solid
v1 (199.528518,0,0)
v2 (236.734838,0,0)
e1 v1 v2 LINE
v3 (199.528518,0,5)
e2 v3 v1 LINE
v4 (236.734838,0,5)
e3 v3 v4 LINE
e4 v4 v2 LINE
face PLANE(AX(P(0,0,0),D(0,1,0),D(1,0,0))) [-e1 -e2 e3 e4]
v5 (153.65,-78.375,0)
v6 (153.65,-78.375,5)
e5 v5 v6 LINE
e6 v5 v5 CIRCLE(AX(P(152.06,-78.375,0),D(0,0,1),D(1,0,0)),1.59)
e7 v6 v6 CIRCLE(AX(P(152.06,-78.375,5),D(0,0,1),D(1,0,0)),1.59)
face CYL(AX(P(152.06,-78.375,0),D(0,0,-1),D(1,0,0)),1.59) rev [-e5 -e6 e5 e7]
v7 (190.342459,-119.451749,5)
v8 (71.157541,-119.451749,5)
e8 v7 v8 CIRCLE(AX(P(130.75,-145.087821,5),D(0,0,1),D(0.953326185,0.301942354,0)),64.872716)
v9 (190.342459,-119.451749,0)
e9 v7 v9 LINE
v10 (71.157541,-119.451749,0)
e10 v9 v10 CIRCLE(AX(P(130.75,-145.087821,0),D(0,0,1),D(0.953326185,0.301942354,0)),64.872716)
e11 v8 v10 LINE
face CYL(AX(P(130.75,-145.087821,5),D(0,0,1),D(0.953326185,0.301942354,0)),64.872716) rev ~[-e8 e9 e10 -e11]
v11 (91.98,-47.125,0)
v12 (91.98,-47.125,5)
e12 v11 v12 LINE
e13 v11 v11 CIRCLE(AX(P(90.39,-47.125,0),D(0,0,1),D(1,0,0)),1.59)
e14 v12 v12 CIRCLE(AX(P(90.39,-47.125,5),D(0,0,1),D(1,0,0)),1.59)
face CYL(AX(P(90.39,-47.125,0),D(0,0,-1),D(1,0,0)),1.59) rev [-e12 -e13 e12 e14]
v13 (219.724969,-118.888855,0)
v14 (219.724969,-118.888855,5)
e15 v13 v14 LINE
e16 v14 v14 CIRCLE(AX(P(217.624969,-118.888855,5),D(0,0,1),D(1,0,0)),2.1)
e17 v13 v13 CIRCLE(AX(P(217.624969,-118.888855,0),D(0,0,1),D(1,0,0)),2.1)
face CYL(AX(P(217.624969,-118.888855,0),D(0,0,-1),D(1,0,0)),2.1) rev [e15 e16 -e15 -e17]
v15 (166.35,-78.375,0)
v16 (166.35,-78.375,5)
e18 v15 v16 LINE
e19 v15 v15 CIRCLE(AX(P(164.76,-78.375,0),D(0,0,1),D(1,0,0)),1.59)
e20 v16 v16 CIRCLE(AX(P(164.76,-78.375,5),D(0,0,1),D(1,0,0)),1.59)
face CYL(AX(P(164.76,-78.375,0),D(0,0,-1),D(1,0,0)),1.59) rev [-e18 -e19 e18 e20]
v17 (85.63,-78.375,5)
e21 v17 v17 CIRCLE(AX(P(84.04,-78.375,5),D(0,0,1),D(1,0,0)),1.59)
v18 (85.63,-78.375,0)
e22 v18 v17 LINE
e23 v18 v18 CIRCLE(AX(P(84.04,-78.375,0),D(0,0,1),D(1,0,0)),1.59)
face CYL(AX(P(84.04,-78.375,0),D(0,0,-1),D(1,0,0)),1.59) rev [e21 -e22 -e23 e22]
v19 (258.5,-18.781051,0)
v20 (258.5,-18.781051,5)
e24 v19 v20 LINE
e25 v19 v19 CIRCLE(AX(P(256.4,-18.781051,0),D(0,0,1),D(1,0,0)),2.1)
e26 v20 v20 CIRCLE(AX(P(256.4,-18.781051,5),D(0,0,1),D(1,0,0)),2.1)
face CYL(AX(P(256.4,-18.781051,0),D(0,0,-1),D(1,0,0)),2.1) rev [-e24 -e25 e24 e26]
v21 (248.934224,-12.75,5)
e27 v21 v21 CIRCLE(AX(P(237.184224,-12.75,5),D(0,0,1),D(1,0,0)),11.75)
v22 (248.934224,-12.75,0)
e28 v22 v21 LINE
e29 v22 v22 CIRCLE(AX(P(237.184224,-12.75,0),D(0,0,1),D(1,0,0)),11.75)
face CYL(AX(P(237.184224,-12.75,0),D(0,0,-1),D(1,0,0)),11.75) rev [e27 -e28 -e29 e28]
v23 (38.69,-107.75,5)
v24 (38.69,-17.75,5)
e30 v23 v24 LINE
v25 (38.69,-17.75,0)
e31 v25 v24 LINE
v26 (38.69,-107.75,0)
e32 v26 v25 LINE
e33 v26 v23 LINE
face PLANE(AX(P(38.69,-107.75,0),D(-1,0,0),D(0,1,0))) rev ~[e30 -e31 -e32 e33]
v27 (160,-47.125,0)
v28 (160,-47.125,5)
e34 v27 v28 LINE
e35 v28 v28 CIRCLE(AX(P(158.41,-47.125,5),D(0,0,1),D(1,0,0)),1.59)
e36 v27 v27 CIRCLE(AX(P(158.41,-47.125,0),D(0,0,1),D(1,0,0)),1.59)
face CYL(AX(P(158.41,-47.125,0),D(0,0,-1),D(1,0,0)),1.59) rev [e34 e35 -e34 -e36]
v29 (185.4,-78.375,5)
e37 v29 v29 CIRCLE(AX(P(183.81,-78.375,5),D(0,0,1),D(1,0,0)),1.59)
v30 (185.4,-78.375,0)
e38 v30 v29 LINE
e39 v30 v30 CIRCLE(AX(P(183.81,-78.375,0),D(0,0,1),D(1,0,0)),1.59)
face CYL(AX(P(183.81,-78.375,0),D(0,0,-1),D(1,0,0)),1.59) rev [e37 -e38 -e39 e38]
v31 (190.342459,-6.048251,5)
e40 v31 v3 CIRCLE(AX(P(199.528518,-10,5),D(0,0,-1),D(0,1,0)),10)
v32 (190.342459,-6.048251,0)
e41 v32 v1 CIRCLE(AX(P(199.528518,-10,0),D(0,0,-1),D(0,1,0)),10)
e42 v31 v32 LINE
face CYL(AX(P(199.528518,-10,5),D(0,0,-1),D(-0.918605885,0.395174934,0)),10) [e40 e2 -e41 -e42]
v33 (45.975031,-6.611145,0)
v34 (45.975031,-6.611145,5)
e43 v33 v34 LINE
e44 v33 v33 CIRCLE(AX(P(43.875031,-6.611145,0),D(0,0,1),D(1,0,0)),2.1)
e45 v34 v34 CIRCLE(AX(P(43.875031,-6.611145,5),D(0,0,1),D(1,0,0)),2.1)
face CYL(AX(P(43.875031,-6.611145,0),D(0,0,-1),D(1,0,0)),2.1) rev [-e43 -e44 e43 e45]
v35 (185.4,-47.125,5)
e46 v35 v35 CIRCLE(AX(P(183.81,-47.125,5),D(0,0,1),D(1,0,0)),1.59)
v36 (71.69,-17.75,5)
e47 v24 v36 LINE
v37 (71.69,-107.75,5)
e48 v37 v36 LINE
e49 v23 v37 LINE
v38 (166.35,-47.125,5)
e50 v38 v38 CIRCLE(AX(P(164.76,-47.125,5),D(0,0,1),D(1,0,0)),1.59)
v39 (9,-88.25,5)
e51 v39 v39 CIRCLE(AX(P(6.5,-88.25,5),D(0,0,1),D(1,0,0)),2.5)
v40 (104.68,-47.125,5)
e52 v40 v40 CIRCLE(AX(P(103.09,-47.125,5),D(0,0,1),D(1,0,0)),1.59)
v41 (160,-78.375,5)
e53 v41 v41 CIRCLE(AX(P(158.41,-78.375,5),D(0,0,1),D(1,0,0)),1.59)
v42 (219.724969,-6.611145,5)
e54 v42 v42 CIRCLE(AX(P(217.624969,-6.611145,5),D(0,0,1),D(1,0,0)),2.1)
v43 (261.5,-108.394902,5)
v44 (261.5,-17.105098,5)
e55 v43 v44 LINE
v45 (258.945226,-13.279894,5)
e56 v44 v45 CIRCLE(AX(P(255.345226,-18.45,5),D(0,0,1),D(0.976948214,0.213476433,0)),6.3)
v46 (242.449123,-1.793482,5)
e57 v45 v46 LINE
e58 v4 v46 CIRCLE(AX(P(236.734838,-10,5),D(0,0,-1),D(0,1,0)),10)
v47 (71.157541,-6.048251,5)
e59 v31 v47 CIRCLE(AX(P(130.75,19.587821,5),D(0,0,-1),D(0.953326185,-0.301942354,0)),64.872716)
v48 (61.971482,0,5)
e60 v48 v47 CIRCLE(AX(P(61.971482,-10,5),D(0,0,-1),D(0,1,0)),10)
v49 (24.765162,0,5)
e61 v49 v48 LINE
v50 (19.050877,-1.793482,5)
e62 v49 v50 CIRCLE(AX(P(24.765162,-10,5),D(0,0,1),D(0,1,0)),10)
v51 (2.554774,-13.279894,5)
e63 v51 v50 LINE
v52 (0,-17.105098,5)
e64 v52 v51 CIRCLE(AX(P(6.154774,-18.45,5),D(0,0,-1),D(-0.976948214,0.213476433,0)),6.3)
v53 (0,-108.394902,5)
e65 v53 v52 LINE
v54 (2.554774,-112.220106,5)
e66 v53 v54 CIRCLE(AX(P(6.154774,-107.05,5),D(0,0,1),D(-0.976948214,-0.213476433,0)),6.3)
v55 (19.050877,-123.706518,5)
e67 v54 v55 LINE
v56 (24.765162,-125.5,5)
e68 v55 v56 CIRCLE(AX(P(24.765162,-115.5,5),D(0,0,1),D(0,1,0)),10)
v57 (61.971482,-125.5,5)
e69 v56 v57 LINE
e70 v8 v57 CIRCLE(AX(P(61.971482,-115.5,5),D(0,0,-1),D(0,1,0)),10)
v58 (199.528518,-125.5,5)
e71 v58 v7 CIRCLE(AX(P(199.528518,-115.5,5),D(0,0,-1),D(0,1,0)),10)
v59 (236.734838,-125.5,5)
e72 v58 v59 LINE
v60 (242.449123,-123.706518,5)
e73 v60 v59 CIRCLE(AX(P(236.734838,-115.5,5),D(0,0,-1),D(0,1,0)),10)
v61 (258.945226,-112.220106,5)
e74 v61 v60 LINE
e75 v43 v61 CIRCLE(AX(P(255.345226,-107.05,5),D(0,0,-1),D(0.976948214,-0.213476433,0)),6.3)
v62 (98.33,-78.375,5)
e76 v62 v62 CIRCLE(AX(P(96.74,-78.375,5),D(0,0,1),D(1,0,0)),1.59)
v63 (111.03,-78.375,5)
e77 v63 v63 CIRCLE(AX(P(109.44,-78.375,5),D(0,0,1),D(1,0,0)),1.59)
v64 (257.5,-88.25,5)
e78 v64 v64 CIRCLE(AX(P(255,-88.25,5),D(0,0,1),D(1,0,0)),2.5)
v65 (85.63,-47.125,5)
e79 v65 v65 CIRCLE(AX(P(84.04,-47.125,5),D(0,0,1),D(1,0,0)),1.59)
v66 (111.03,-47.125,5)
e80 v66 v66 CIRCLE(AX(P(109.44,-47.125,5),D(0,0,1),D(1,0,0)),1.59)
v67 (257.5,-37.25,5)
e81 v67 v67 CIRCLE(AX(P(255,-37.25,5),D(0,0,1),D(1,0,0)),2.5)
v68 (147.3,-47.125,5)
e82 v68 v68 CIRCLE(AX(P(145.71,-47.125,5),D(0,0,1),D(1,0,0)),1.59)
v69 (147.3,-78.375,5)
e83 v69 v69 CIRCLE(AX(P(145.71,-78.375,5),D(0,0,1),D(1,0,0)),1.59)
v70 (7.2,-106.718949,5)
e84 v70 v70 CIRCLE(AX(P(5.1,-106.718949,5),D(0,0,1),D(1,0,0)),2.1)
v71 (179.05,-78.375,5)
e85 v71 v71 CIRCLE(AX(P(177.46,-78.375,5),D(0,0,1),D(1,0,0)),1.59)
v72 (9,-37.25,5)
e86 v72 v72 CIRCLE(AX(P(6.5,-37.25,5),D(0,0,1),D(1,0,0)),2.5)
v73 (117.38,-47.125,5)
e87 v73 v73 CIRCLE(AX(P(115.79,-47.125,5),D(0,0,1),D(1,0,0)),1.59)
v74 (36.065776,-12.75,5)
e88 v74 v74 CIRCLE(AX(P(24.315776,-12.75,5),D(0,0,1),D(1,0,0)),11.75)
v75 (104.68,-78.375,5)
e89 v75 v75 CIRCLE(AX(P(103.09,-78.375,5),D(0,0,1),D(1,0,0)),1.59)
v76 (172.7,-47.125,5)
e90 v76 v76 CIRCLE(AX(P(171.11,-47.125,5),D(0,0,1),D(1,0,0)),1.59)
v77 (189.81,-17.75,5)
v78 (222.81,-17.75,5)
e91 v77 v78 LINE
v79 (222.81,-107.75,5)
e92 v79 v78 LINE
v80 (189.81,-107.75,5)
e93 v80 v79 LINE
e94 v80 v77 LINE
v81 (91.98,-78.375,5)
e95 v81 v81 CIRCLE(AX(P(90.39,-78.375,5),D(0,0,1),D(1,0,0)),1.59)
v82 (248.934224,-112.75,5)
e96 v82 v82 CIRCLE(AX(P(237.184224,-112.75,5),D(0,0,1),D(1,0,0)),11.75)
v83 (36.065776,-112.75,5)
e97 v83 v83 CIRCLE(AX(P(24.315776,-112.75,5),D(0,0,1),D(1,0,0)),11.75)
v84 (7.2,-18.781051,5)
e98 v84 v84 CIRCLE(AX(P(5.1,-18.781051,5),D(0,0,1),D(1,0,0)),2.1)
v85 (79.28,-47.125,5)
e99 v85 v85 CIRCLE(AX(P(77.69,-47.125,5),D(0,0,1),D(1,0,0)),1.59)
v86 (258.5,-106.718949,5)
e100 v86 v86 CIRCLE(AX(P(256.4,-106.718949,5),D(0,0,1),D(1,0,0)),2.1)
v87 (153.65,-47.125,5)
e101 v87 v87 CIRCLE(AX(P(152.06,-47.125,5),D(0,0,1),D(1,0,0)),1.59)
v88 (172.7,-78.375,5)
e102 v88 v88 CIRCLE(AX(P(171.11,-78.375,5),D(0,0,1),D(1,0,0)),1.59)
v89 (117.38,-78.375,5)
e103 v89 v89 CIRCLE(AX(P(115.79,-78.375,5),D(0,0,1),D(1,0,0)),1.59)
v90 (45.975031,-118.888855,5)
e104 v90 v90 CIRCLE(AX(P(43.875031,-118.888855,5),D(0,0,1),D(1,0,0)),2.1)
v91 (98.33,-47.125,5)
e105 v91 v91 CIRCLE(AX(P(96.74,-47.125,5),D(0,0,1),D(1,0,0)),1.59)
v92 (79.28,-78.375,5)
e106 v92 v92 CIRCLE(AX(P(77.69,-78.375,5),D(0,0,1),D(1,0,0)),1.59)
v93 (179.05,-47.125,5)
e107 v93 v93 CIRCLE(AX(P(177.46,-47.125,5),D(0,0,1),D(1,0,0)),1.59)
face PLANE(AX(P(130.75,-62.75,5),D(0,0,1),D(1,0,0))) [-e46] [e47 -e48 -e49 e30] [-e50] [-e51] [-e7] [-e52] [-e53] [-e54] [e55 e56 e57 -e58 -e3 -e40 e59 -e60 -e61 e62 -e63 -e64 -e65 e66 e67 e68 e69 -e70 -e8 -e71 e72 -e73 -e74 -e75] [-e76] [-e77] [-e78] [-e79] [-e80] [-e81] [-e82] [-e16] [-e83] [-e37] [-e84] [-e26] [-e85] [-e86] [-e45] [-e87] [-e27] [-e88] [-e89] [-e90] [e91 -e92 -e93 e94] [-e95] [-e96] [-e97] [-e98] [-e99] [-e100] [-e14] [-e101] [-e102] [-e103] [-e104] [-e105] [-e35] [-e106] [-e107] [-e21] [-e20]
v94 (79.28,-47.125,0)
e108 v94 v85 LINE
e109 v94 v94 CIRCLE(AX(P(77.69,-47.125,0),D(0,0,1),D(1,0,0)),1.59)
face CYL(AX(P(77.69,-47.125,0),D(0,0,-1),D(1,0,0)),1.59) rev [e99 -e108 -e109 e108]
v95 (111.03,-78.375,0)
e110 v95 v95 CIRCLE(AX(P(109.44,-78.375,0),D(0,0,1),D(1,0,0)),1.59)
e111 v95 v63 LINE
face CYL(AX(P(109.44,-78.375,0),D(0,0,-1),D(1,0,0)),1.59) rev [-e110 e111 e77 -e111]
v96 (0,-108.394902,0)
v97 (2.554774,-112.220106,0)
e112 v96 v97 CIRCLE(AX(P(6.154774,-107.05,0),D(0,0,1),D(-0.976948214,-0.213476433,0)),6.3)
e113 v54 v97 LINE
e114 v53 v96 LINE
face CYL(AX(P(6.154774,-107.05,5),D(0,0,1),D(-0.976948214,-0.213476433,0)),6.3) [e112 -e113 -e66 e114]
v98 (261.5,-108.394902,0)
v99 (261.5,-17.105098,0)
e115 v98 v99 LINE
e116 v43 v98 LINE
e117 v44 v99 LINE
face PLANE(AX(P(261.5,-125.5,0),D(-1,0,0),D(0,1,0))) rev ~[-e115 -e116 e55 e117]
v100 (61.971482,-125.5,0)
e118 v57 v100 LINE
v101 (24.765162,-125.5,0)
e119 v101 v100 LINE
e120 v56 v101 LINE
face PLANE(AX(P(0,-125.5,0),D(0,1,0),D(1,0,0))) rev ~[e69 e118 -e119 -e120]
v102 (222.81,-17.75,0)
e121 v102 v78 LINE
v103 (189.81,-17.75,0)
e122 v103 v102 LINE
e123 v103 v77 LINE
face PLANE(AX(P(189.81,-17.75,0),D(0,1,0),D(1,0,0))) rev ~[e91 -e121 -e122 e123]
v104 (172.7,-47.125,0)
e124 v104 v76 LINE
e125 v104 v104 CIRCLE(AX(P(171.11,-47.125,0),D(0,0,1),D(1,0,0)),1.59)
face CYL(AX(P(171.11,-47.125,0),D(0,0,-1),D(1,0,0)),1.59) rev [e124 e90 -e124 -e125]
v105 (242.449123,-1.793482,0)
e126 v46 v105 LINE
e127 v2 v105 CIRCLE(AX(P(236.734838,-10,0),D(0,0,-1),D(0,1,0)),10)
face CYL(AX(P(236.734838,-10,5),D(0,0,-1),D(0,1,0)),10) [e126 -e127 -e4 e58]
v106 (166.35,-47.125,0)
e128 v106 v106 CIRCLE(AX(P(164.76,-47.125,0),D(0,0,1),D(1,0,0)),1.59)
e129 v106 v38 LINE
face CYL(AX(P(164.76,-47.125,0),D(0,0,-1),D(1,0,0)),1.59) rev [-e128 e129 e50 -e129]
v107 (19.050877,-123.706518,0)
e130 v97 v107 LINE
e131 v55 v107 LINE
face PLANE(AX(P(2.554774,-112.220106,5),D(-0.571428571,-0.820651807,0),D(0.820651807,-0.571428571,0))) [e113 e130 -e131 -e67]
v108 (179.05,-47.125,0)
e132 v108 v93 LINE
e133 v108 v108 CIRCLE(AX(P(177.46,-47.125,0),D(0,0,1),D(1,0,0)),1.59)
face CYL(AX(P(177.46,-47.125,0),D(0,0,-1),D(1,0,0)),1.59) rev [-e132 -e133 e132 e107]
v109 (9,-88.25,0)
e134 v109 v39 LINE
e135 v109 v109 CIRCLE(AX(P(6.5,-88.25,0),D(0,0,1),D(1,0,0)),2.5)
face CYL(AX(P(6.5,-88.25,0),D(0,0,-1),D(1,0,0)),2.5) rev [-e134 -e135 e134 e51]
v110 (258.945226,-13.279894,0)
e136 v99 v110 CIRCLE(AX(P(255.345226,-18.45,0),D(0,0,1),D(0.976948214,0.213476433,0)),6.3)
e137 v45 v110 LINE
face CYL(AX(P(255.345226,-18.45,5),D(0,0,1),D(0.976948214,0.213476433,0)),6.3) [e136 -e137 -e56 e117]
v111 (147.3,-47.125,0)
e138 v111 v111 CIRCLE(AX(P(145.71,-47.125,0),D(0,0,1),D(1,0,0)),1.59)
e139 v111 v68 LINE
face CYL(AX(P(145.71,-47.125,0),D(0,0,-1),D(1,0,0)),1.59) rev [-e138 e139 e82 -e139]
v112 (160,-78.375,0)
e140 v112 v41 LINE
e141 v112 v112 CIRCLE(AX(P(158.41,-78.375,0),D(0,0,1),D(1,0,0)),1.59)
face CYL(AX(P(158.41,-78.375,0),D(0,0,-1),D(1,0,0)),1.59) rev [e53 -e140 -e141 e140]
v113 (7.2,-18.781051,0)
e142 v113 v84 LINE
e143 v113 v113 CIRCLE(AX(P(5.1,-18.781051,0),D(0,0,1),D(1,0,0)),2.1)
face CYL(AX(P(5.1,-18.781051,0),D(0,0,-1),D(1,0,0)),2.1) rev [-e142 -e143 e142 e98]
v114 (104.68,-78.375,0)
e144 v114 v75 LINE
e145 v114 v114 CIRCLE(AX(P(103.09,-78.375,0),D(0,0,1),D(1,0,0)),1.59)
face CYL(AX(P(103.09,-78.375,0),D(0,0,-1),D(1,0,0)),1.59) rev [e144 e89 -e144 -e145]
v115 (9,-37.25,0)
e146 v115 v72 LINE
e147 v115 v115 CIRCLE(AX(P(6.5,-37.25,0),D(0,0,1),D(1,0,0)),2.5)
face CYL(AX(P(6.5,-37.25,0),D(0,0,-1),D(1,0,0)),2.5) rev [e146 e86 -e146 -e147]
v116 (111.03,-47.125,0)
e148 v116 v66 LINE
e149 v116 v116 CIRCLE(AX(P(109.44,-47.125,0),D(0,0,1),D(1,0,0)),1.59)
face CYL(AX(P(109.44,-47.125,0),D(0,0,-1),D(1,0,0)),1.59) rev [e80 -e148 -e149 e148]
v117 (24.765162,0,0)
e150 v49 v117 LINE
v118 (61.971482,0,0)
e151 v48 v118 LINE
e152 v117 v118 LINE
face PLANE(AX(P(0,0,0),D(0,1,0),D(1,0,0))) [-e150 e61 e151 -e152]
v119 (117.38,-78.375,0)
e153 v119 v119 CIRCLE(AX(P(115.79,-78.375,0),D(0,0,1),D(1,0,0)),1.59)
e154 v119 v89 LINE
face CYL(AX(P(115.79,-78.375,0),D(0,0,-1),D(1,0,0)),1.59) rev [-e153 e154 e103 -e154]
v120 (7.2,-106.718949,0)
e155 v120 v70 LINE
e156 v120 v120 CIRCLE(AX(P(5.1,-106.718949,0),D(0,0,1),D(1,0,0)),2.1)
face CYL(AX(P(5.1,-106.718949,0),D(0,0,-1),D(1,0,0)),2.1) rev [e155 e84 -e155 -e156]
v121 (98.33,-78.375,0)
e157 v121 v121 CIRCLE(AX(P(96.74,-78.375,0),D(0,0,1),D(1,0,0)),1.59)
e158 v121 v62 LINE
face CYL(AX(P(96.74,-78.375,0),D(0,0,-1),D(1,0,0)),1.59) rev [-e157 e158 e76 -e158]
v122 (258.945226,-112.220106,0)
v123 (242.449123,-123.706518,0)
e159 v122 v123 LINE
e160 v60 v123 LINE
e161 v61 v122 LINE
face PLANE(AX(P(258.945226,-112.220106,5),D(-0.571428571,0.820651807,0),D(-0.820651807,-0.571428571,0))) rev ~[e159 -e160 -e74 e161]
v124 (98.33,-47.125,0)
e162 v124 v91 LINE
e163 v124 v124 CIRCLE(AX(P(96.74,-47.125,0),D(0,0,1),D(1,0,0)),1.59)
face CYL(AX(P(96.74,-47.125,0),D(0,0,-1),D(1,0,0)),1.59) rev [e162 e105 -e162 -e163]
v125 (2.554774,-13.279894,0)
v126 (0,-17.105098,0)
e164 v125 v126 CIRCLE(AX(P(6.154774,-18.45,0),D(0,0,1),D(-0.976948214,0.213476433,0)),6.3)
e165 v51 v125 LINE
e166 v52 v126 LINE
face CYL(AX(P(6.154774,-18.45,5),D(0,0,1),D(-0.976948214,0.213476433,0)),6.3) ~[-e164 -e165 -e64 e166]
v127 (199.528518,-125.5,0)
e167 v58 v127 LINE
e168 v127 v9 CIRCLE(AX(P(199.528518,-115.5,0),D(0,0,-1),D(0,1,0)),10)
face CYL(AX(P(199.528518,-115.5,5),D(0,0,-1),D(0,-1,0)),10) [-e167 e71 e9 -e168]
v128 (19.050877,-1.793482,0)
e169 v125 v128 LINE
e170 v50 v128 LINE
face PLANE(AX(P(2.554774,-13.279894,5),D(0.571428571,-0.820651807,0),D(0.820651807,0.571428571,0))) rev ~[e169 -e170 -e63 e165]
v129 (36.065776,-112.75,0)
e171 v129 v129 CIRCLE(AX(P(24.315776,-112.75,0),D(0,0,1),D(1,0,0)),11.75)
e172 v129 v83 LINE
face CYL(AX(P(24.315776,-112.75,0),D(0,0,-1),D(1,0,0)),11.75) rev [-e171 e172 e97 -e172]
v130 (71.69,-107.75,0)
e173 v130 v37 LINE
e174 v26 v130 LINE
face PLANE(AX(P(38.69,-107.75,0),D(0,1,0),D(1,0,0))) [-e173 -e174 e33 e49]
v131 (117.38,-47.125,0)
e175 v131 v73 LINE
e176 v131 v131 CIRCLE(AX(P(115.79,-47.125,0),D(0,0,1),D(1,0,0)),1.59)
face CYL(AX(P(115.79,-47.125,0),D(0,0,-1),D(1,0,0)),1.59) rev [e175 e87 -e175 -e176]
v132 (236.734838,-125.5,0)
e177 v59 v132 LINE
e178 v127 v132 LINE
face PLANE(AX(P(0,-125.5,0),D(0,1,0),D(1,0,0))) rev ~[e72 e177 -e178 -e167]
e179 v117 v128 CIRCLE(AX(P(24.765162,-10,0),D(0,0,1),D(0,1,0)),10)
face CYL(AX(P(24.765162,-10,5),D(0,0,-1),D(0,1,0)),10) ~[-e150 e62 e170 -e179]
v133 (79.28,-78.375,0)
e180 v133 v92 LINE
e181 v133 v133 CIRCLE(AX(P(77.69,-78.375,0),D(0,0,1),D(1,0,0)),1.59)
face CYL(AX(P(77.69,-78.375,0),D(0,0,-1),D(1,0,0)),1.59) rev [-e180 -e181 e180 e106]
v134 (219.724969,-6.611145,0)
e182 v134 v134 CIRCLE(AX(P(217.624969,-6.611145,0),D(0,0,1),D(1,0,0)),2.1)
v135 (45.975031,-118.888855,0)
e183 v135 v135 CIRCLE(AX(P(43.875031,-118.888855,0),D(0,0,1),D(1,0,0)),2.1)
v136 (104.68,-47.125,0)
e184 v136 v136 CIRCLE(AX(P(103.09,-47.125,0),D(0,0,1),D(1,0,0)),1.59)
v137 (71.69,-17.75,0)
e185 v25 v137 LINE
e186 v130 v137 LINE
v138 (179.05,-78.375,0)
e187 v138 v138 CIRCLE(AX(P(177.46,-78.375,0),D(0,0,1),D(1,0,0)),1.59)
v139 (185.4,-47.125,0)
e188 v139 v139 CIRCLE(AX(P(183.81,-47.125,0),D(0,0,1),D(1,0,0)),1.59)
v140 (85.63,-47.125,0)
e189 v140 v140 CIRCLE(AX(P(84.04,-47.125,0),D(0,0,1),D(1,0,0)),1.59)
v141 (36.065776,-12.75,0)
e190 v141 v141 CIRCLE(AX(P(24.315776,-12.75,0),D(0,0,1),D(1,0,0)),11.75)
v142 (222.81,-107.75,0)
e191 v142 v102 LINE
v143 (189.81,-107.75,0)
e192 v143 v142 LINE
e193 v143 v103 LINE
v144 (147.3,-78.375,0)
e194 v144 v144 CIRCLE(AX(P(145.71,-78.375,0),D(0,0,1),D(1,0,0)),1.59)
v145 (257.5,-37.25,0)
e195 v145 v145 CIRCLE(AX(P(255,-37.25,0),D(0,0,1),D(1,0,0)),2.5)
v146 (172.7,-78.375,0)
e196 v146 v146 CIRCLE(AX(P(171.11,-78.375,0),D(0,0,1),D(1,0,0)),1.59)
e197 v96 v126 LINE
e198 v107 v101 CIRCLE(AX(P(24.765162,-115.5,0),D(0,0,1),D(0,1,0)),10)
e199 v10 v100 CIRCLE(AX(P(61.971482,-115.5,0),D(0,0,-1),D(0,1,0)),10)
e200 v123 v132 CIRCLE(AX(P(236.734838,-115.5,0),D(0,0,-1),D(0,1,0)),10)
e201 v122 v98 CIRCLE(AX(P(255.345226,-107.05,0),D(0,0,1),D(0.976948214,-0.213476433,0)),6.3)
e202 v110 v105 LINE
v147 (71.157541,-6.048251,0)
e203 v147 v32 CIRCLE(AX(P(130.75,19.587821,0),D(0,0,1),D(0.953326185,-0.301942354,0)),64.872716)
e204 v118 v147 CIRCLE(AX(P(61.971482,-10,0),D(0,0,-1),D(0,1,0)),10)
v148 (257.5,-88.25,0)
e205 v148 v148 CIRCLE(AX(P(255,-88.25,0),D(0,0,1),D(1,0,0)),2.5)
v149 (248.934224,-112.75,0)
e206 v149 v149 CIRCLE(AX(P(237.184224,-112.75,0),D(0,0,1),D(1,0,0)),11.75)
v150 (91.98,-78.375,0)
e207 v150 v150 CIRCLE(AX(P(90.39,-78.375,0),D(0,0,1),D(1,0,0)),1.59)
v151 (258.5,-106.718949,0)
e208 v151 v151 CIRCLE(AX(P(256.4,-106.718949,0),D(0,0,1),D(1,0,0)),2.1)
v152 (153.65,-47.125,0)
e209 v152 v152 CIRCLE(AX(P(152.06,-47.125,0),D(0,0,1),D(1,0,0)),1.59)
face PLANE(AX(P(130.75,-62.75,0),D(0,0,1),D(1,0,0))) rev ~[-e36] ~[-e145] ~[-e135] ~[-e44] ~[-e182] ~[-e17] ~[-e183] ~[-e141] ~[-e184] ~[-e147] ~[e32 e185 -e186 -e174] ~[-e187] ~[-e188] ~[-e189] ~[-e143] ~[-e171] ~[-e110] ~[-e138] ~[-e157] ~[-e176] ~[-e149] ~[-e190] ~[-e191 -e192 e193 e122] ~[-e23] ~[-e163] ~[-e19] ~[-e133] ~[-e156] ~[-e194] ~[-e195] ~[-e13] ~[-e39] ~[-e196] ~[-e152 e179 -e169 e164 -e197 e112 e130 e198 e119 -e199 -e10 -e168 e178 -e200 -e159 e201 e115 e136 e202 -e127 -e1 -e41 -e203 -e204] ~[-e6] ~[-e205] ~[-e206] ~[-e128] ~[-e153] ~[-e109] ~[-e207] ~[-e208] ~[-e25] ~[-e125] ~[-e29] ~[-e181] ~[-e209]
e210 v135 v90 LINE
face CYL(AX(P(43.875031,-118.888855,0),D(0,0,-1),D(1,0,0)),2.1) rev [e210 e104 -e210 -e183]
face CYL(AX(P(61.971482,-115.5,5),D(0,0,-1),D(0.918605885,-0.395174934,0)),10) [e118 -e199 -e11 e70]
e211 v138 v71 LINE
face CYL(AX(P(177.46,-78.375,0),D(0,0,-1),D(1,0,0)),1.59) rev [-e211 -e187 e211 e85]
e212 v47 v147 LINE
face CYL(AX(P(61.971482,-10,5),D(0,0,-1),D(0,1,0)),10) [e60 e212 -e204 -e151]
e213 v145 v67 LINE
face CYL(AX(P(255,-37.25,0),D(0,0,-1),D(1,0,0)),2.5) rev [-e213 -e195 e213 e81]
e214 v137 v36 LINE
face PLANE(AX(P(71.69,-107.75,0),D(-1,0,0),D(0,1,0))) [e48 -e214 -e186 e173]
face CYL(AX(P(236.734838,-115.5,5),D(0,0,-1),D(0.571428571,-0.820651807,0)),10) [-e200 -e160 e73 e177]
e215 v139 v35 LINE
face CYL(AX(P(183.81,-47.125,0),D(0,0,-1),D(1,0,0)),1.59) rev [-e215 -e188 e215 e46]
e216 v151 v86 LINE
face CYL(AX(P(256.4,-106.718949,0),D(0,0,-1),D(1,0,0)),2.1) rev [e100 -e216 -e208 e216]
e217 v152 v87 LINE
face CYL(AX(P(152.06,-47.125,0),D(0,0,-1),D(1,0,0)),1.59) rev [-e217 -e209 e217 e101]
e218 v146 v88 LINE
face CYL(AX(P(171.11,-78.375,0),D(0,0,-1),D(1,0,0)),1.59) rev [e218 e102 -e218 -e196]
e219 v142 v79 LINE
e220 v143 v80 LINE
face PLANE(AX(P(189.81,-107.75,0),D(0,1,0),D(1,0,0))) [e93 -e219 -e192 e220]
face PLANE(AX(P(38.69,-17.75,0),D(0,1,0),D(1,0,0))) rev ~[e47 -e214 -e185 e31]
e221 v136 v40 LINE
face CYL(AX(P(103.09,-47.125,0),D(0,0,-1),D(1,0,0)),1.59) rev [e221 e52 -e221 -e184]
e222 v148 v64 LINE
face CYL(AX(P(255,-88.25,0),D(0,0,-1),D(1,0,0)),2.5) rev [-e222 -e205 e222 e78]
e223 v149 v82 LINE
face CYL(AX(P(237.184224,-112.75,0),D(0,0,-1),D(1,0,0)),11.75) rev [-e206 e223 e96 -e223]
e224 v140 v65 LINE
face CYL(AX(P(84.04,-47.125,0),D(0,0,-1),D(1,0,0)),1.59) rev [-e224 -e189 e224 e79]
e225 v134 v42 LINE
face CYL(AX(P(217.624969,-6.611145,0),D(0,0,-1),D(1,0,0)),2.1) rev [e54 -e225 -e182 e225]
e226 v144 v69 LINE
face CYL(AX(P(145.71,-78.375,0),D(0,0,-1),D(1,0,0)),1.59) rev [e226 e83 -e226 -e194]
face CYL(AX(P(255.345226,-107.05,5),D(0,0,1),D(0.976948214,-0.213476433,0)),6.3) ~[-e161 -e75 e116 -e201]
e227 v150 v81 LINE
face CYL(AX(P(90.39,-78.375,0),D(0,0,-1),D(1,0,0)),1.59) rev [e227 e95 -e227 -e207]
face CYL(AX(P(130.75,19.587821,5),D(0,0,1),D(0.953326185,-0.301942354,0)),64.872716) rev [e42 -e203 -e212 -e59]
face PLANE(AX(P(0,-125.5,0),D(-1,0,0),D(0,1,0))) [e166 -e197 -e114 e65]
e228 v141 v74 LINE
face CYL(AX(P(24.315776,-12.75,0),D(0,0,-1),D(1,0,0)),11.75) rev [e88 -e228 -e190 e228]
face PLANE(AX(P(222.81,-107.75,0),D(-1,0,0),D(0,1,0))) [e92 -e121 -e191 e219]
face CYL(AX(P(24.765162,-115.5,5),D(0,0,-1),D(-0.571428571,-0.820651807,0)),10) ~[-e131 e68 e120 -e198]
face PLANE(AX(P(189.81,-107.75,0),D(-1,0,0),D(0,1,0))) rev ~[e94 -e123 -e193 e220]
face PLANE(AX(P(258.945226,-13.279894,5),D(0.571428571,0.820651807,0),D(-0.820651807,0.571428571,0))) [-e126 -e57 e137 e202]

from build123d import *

# Parameters (mm, degrees)
SKETCH1_W           = 261.5
SKETCH1_H           = 125.5
SKETCH1_R           = 2.5
SKETCH1_R_2         = 1.59
SKETCH1_R_3         = 2.1
SKETCH1_R_4         = 11.75
SKETCH1_W_2         = 33
SKETCH1_H_2         = 90
BOSS_EXTRUDE1_DEPTH = 5
CUT_EXTRUDE1_DEPTH  = 10
FILLET1_R           = 10
FILLET2_R           = 10


with BuildPart() as part:
    # Sketch1 → Boss-Extrude1 (new body)
    with BuildSketch(Plane.XY):
        with Locations((130.75, -62.75)):
            Rectangle(SKETCH1_W, SKETCH1_H)
        with Locations((255, -37.25)):
            Circle(SKETCH1_R, mode=Mode.SUBTRACT)
        with Locations((255, -88.25)):
            Circle(SKETCH1_R, mode=Mode.SUBTRACT)
        with Locations((183.81, -47.125)):
            Circle(SKETCH1_R_2, mode=Mode.SUBTRACT)
        with Locations((164.76, -78.375)):
            Circle(SKETCH1_R_2, mode=Mode.SUBTRACT)
        with Locations((152.06, -78.375)):
            Circle(SKETCH1_R_2, mode=Mode.SUBTRACT)
        with Locations((43.875030639, -118.888854871)):
            Circle(SKETCH1_R_3, mode=Mode.SUBTRACT)
        with Locations((183.81, -78.375)):
            Circle(SKETCH1_R_2, mode=Mode.SUBTRACT)
        with Locations((145.71, -47.125)):
            Circle(SKETCH1_R_2, mode=Mode.SUBTRACT)
        with Locations((158.41, -47.125)):
            Circle(SKETCH1_R_2, mode=Mode.SUBTRACT)
        with Locations((171.11, -47.125)):
            Circle(SKETCH1_R_2, mode=Mode.SUBTRACT)
        with Locations((145.71, -78.375)):
            Circle(SKETCH1_R_2, mode=Mode.SUBTRACT)
        with Locations((158.41, -78.375)):
            Circle(SKETCH1_R_2, mode=Mode.SUBTRACT)
        with Locations((171.11, -78.375)):
            Circle(SKETCH1_R_2, mode=Mode.SUBTRACT)
        with Locations((84.04, -78.375)):
            Circle(SKETCH1_R_2, mode=Mode.SUBTRACT)
        with Locations((96.74, -78.375)):
            Circle(SKETCH1_R_2, mode=Mode.SUBTRACT)
        with Locations((109.44, -78.375)):
            Circle(SKETCH1_R_2, mode=Mode.SUBTRACT)
        with Locations((84.04, -47.125)):
            Circle(SKETCH1_R_2, mode=Mode.SUBTRACT)
        with Locations((96.74, -47.125)):
            Circle(SKETCH1_R_2, mode=Mode.SUBTRACT)
        with Locations((109.44, -47.125)):
            Circle(SKETCH1_R_2, mode=Mode.SUBTRACT)
        with Locations((90.39, -78.375)):
            Circle(SKETCH1_R_2, mode=Mode.SUBTRACT)
        with Locations((103.09, -78.375)):
            Circle(SKETCH1_R_2, mode=Mode.SUBTRACT)
        with Locations((115.79, -78.375)):
            Circle(SKETCH1_R_2, mode=Mode.SUBTRACT)
        with Locations((90.39, -47.125)):
            Circle(SKETCH1_R_2, mode=Mode.SUBTRACT)
        with Locations((103.09, -47.125)):
            Circle(SKETCH1_R_2, mode=Mode.SUBTRACT)
        with Locations((115.79, -47.125)):
            Circle(SKETCH1_R_2, mode=Mode.SUBTRACT)
        with Locations((77.69, -78.375)):
            Circle(SKETCH1_R_2, mode=Mode.SUBTRACT)
        with Locations((5.1, -106.71894941)):
            Circle(SKETCH1_R_3, mode=Mode.SUBTRACT)
        with Locations((24.315775518, -112.75)):
            Circle(SKETCH1_R_4, mode=Mode.SUBTRACT)
        with Locations((256.4, -106.71894941)):
            Circle(SKETCH1_R_3, mode=Mode.SUBTRACT)
        with Locations((77.69, -47.125)):
            Circle(SKETCH1_R_2, mode=Mode.SUBTRACT)
        with Locations((6.5, -88.25)):
            Circle(SKETCH1_R, mode=Mode.SUBTRACT)
        with Locations((6.5, -37.25)):
            Circle(SKETCH1_R, mode=Mode.SUBTRACT)
        with Locations((237.184224482, -112.75)):
            Circle(SKETCH1_R_4, mode=Mode.SUBTRACT)
        with Locations((217.624969361, -118.888854871)):
            Circle(SKETCH1_R_3, mode=Mode.SUBTRACT)
        with Locations((152.06, -47.125)):
            Circle(SKETCH1_R_2, mode=Mode.SUBTRACT)
        with Locations((164.76, -47.125)):
            Circle(SKETCH1_R_2, mode=Mode.SUBTRACT)
        with Locations((177.46, -47.125)):
            Circle(SKETCH1_R_2, mode=Mode.SUBTRACT)
        with Locations((177.46, -78.375)):
            Circle(SKETCH1_R_2, mode=Mode.SUBTRACT)
        with Locations((256.4, -18.78105059)):
            Circle(SKETCH1_R_3, mode=Mode.SUBTRACT)
        with Locations((237.184224482, -12.75)):
            Circle(SKETCH1_R_4, mode=Mode.SUBTRACT)
        with Locations((217.624969361, -6.611145129)):
            Circle(SKETCH1_R_3, mode=Mode.SUBTRACT)
        with Locations((5.1, -18.78105059)):
            Circle(SKETCH1_R_3, mode=Mode.SUBTRACT)
        with Locations((43.875030639, -6.611145129)):
            Circle(SKETCH1_R_3, mode=Mode.SUBTRACT)
        with Locations((24.315775518, -12.75)):
            Circle(SKETCH1_R_4, mode=Mode.SUBTRACT)
        with Locations((206.31, -62.75)):
            Rectangle(SKETCH1_W_2, SKETCH1_H_2, mode=Mode.SUBTRACT)
        with Locations((55.19, -62.75)):
            Rectangle(SKETCH1_W_2, SKETCH1_H_2, mode=Mode.SUBTRACT)
    extrude(amount=BOSS_EXTRUDE1_DEPTH)

    # Sketch19 → Cut-Extrude1 (cut)
    with BuildSketch(Plane.XY.offset(5)):
        with BuildLine():
            Line((2.554773747, -112.220106382), (21.626568954, -125.5))
            Line((21.626568954, -125.5), (0, -125.5))
            Line((0, -125.5), (0, -108.394901529))
            ThreePointArc((0, -108.394901529), (0.915789995, -110.549006894), (2.554773747, -112.220106382))
        make_face()
        with BuildLine():
            Line((239.873431046, -125.5), (261.5, -125.5))
            Line((261.5, -125.5), (261.5, -108.394901529))
            ThreePointArc((261.5, -108.394901529), (260.584210005, -110.549006894), (258.945226253, -112.220106382))
            Line((258.945226253, -112.220106382), (239.873431046, -125.5))
        make_face()
        with BuildLine():
            Line((258.945226253, -13.279893618), (239.873431046, 0))
            Line((239.873431046, 0), (261.5, 0))
            Line((261.5, 0), (261.5, -17.105098471))
            ThreePointArc((261.5, -17.105098471), (260.584210005, -14.950993106), (258.945226253, -13.279893618))
        make_face()
        with BuildLine():
            Line((21.626568954, 0), (0, 0))
            Line((0, 0), (0, -17.105098471))
            ThreePointArc((0, -17.105098471), (0.915789995, -14.950993106), (2.554773747, -13.279893618))
            Line((2.554773747, -13.279893618), (21.626568954, 0))
        make_face()
        with BuildLine():
            ThreePointArc((68.905141109, -125.5), (130.75, -209.960536663), (192.594858891, -125.5))
            ThreePointArc((192.594858891, -125.5), (130.75, -80.215104564), (68.905141109, -125.5))
        make_face()
        with BuildLine():
            ThreePointArc((192.594858891, 0), (130.75, -45.284895436), (68.905141109, 0))
            ThreePointArc((68.905141109, 0), (130.75, 84.460536663), (192.594858891, 0))
        make_face()
    extrude(amount=-CUT_EXTRUDE1_DEPTH, mode=Mode.SUBTRACT)

    # Fillet1
    fillet1_edges = [part.edges().sort_by_distance(p)[0] for p in [
        (68.905141109, 0, 2.5),
        (192.594858891, 0, 2.5),
        (192.594858891, -125.5, 2.5),
        (68.905141109, -125.5, 2.5),
    ]]
    fillet(fillet1_edges, radius=FILLET1_R)

    # Fillet2
    fillet2_edges = [part.edges().sort_by_distance(p)[0] for p in [
        (239.873431046, 0, 2.5),
        (21.626568954, 0, 2.5),
        (21.626568954, -125.5, 2.5),
        (239.873431046, -125.5, 2.5),
    ]]
    fillet(fillet2_edges, radius=FILLET2_R)


solid = part.part
